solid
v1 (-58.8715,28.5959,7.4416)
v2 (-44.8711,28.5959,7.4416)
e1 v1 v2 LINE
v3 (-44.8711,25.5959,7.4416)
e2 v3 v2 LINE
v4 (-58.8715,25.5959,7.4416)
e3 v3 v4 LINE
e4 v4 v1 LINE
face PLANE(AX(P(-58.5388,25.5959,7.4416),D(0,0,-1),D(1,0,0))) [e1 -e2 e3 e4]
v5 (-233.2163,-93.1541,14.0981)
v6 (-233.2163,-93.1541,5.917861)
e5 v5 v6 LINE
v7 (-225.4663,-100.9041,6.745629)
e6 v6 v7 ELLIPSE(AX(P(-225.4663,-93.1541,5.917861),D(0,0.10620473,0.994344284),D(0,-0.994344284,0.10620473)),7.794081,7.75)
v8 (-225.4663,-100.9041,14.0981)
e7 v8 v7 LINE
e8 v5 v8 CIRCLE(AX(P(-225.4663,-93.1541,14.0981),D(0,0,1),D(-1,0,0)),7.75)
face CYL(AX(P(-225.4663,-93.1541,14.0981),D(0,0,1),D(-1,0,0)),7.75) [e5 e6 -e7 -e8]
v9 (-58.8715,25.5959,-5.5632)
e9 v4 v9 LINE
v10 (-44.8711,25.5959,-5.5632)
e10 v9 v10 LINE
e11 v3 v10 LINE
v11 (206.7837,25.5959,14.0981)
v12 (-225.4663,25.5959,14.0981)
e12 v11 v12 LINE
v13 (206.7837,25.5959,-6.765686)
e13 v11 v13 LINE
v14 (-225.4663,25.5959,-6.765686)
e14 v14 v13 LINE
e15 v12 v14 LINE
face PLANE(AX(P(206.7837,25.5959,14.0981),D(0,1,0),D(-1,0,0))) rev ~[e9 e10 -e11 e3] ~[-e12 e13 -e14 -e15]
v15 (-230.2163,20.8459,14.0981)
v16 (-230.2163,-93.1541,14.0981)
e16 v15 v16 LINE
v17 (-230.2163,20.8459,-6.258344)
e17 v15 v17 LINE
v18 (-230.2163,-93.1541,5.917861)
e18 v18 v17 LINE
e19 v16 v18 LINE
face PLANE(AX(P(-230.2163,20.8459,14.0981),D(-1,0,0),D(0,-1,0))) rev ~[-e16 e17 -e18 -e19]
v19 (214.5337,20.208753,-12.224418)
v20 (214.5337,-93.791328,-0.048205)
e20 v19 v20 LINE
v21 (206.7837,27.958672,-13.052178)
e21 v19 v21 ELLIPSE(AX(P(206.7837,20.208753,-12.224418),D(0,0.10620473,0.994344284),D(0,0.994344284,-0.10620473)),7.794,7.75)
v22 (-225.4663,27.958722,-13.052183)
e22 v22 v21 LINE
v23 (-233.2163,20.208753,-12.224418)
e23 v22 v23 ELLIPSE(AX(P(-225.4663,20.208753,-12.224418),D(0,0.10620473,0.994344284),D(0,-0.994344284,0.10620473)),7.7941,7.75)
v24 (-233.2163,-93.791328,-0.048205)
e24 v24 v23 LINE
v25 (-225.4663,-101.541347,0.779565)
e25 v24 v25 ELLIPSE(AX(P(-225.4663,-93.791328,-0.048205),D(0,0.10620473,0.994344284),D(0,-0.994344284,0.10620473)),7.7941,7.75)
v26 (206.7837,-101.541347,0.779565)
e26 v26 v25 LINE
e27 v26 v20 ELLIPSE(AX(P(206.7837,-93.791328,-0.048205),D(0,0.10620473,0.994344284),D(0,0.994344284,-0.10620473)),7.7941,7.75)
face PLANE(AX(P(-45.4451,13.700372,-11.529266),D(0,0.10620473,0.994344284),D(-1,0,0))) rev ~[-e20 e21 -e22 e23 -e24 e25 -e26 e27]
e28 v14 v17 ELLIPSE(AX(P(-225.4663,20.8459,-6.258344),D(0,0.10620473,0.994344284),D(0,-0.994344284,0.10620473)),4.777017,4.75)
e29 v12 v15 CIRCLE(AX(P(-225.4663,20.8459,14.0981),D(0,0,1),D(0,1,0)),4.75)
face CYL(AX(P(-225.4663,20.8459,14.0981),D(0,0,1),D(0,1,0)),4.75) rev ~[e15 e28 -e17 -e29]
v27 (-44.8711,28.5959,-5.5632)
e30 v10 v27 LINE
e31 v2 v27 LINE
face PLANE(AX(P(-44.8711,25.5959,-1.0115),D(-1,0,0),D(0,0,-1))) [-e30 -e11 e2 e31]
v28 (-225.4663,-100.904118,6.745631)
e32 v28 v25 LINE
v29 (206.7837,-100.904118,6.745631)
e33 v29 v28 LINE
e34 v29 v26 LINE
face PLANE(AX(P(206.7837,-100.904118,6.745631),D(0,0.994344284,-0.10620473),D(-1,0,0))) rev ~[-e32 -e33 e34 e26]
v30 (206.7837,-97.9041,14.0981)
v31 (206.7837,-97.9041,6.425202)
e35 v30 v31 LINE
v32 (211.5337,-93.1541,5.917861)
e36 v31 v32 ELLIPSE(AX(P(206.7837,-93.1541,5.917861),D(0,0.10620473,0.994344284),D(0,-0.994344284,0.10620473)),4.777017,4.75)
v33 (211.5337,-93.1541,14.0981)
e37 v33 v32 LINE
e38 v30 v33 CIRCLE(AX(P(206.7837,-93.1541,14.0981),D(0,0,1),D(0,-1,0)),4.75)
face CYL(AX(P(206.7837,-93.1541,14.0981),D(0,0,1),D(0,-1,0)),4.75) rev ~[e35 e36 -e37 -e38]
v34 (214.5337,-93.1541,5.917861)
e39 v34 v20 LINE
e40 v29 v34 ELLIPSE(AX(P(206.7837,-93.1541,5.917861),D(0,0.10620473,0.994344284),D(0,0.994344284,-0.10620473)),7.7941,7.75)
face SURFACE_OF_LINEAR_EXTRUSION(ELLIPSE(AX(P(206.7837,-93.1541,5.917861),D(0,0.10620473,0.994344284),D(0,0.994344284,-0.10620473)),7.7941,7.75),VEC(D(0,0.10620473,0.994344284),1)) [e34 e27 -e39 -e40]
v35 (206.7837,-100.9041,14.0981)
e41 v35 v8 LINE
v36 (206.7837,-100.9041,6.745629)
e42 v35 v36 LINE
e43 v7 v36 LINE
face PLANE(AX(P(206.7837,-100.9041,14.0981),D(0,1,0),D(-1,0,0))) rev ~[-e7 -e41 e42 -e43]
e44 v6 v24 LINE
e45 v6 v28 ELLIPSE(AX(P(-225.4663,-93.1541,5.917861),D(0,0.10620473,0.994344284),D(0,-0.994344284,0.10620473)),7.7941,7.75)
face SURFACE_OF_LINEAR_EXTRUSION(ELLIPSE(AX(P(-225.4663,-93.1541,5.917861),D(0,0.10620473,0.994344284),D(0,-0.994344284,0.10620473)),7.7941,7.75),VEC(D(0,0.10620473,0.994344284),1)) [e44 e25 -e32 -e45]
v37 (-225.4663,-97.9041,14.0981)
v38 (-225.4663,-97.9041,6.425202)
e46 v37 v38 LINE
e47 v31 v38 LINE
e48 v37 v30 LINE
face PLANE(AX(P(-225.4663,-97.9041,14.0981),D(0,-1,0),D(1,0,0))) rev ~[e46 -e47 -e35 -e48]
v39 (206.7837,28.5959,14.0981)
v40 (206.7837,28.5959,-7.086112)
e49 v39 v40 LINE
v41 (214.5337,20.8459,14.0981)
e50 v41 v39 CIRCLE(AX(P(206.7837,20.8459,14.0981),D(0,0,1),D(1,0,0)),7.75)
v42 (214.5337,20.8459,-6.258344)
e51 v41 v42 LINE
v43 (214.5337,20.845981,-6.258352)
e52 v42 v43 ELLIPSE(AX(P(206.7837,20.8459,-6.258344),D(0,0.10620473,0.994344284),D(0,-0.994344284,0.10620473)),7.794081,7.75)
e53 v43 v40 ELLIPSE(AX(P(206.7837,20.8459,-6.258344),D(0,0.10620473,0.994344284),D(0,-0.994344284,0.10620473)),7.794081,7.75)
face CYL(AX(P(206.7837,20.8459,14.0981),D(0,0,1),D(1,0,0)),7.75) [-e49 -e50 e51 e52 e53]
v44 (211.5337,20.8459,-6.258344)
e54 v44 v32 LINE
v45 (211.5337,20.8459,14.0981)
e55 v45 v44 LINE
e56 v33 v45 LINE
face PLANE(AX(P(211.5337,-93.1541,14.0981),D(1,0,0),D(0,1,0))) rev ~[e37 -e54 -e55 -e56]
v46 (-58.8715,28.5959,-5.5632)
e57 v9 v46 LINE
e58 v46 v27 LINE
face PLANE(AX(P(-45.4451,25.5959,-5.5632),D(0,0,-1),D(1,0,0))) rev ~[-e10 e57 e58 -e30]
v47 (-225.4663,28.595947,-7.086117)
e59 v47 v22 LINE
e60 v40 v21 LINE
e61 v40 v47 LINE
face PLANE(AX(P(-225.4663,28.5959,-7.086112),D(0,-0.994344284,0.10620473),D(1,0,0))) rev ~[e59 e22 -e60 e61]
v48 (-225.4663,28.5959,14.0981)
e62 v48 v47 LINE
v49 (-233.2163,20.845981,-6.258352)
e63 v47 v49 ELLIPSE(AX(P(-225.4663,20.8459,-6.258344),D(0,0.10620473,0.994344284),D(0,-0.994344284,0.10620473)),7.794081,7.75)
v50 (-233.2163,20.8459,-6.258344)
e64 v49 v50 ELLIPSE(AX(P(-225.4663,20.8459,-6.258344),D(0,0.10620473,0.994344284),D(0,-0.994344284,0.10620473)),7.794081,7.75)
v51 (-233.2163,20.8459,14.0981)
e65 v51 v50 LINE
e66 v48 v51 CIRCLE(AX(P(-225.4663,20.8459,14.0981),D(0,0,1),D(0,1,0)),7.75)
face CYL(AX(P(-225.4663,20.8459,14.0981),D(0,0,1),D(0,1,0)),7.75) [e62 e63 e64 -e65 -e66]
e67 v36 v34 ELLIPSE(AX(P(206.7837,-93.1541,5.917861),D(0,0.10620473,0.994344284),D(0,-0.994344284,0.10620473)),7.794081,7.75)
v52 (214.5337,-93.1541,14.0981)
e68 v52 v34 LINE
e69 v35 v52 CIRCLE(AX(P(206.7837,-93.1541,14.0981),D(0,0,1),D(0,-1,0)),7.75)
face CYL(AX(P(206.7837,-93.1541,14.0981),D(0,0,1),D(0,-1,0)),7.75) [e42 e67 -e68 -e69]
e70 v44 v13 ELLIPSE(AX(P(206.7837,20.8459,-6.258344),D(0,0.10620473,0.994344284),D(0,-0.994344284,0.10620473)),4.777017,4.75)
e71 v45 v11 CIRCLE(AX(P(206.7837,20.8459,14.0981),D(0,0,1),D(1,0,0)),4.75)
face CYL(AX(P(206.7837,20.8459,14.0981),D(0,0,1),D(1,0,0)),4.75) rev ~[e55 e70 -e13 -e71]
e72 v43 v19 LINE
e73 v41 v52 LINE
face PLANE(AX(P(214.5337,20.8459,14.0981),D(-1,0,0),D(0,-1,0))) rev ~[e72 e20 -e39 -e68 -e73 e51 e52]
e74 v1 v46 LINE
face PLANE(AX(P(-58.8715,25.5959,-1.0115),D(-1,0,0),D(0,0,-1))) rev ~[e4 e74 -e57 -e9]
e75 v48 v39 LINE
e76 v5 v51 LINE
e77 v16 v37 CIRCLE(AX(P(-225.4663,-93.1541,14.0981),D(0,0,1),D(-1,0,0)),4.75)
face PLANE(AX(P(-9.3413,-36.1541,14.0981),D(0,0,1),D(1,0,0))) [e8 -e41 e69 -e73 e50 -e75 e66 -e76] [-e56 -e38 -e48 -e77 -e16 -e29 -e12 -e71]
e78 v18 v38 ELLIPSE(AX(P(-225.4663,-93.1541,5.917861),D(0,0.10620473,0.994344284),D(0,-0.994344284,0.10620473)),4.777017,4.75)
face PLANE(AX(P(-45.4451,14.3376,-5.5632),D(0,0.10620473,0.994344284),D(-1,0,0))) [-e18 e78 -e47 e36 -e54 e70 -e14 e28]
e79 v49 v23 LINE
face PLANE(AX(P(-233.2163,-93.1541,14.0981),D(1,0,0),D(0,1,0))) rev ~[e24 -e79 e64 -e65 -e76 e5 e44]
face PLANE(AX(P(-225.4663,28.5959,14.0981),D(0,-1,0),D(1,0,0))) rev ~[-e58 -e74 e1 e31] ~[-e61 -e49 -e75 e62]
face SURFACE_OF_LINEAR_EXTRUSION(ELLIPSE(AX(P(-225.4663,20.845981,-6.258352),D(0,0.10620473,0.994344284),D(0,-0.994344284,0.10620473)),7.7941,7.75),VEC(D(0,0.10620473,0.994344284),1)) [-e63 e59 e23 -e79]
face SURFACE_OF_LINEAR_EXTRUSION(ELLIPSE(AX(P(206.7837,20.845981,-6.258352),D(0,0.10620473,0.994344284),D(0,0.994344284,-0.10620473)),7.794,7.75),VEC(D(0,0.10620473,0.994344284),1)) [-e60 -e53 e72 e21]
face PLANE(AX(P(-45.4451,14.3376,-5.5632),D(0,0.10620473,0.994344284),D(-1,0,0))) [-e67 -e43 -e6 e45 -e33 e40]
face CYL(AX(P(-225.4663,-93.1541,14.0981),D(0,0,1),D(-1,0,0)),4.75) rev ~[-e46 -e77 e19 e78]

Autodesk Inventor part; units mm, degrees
ref_plane "YZ Plane" through (0, 0, 0) normal (1, 0, 0) x (0, 1, 0)
ref_plane "XZ Plane" through (0, 0, 0) normal (0, 1, 0) x (-1, 0, 0)
ref_plane "XY Plane" through (0, 0, 0) normal (0, 0, 1) x (1, 0, 0)
sketch "Sketch1" plane through (0, 0, 0) normal (1, 0, 0) x (0, 1, 0)
  line L0 (-93.1541, 14.0981) -> (20.8459, 14.0981) projected
  line L1 (-93.1541, 14.0981) -> (-93.1541, 12.5981) projected
  line L2 (20.8459, 12.5981) -> (-93.1541, 12.5981) projected
  line L3 (20.8459, 14.0981) -> (20.8459, 12.5981) projected
  line L4 (-93.1541, 7.4943) -> (-93.1541, 9.0943) projected
  line L5 (-93.1541, 7.4943) -> (20.8459, 7.4943) projected
  line L6 (20.8459, 7.4943) -> (20.8459, 9.0943) projected
  line L7 (-93.1541, 9.0943) -> (20.8459, 9.0943) projected
  line L8 (25.5959, 14.0981) -> (20.8459, 14.0981) projected
  line L9 (20.8459, 12.5981) -> (25.5959, 12.5981) projected
  line L10 (25.5959, 14.0981) -> (25.5959, 12.5981) projected
  line L11 (25.5959, 9.0943) -> (20.8459, 9.0943) projected
  line L12 (25.5959, 7.4943) -> (20.8459, 7.4943) projected
  line L13 (25.5959, 7.4943) -> (25.5959, 9.0943) projected
  line L14 (-93.1541, 9.0943) -> (-97.9041, 9.0943) projected
  line L15 (-93.1541, 7.4943) -> (-97.9041, 7.4943) projected
  line L16 (-97.9041, 7.4943) -> (-97.9041, 9.0943) projected
  line L17 (-93.1541, 14.0981) -> (-97.9041, 14.0981) projected
  line L18 (-97.9041, 12.5981) -> (-93.1541, 12.5981) projected
  line L19 (-97.9041, 14.0981) -> (-97.9041, 12.5981) projected
  line L20 (-93.4041, 11.6343) -> (-93.3041, 11.6343) projected
  point P0 (0, 0)
ref_plane "Work Plane1" through (-45.4451, 14.3376, -5.5632) normal (0, 0.1062, 0.9943) x (-1, 0, 0)
ref_plane "Work Plane2" through (-9.3413, -36.1541, 14.0981) normal (0, 0, 1) x (1, 0, 0)
sketch "Sketch3" plane through (-9.3413, -36.1541, 14.0981) normal (0, 0, 1) x (1, 0, 0)
  line L0 (-211.6644, 41.535) -> (-205.2313, 59.21) projected
  line L1 (-205.2313, 59.21) -> (-202.7313, 59.21) projected
  line L2 (-202.7313, 59.21) -> (-209.1644, 41.535) projected
  line L3 (-209.1644, 41.535) -> (-211.6644, 41.535) projected
  line L4 (-201.6644, 41.535) -> (-195.2313, 59.21) projected
  line L5 (-195.2313, 59.21) -> (-192.7313, 59.21) projected
  line L6 (-192.7313, 59.21) -> (-199.1644, 41.535) projected
  line L7 (-199.1644, 41.535) -> (-201.6644, 41.535) projected
  line L8 (-191.6644, 41.535) -> (-185.2313, 59.21) projected
  line L9 (-185.2313, 59.21) -> (-182.7313, 59.21) projected
  line L10 (-182.7313, 59.21) -> (-189.1644, 41.535) projected
  line L11 (-189.1644, 41.535) -> (-191.6644, 41.535) projected
  line L12 (-181.6644, 41.535) -> (-175.2313, 59.21) projected
  line L13 (-175.2313, 59.21) -> (-172.7313, 59.21) projected
  line L14 (-172.7313, 59.21) -> (-179.1644, 41.535) projected
  line L15 (-179.1644, 41.535) -> (-181.6644, 41.535) projected
  line L16 (-171.6644, 41.535) -> (-165.2313, 59.21) projected
  line L17 (-165.2313, 59.21) -> (-162.7313, 59.21) projected
  line L18 (-162.7313, 59.21) -> (-169.1644, 41.535) projected
  line L19 (-169.1644, 41.535) -> (-171.6644, 41.535) projected
  line L20 (-161.6644, 41.535) -> (-155.2313, 59.21) projected
  line L21 (-155.2313, 59.21) -> (-152.7313, 59.21) projected
  line L22 (-152.7313, 59.21) -> (-159.1644, 41.535) projected
  line L23 (-159.1644, 41.535) -> (-161.6644, 41.535) projected
  line L24 (-151.6644, 41.535) -> (-145.2313, 59.21) projected
  line L25 (-145.2313, 59.21) -> (-142.7313, 59.21) projected
  line L26 (-142.7313, 59.21) -> (-149.1644, 41.535) projected
  line L27 (-149.1644, 41.535) -> (-151.6644, 41.535) projected
  line L28 (-141.6644, 41.535) -> (-135.2313, 59.21) projected
  line L29 (-135.2313, 59.21) -> (-132.7313, 59.21) projected
  line L30 (-132.7313, 59.21) -> (-139.1644, 41.535) projected
  line L31 (-139.1644, 41.535) -> (-141.6644, 41.535) projected
  line L32 (-134.1647, 41.535) -> (-136.6647, 41.535) projected
  line L33 (-136.6647, 41.535) -> (-131.39, 56.027) projected
  line L34 (-131.39, 56.027) -> (-131.39, 49.1583) projected
  line L35 (-131.39, 49.1583) -> (-134.1647, 41.535) projected
  line L36 (-141.27, 35.75) -> (-143.77, 35.75) projected
  line L37 (-143.77, 35.75) -> (-142.3378, 39.685) projected
  line L38 (-142.3378, 39.685) -> (-139.8378, 39.685) projected
  line L39 (-139.8378, 39.685) -> (-141.27, 35.75) projected
  line L40 (-151.27, 35.75) -> (-153.77, 35.75) projected
  line L41 (-153.77, 35.75) -> (-152.3378, 39.685) projected
  line L42 (-152.3378, 39.685) -> (-149.8378, 39.685) projected
  line L43 (-149.8378, 39.685) -> (-151.27, 35.75) projected
  line L44 (-161.27, 35.75) -> (-163.77, 35.75) projected
  line L45 (-163.77, 35.75) -> (-162.3378, 39.685) projected
  line L46 (-162.3378, 39.685) -> (-159.8378, 39.685) projected
  line L47 (-159.8378, 39.685) -> (-161.27, 35.75) projected
  line L48 (-171.27, 35.75) -> (-173.77, 35.75) projected
  line L49 (-173.77, 35.75) -> (-172.3378, 39.685) projected
  line L50 (-172.3378, 39.685) -> (-169.8378, 39.685) projected
  line L51 (-169.8378, 39.685) -> (-171.27, 35.75) projected
  line L52 (-181.27, 35.75) -> (-183.77, 35.75) projected
  line L53 (-183.77, 35.75) -> (-182.3378, 39.685) projected
  line L54 (-182.3378, 39.685) -> (-179.8378, 39.685) projected
  line L55 (-179.8378, 39.685) -> (-181.27, 35.75) projected
  line L56 (-191.27, 35.75) -> (-193.77, 35.75) projected
  line L57 (-193.77, 35.75) -> (-192.3378, 39.685) projected
  line L58 (-192.3378, 39.685) -> (-189.8378, 39.685) projected
  line L59 (-189.8378, 39.685) -> (-191.27, 35.75) projected
  line L60 (-201.27, 35.75) -> (-203.77, 35.75) projected
  line L61 (-203.77, 35.75) -> (-202.3378, 39.685) projected
  line L62 (-202.3378, 39.685) -> (-199.8378, 39.685) projected
  line L63 (-199.8378, 39.685) -> (-201.27, 35.75) projected
  line L64 (-211.27, 35.75) -> (-213.77, 35.75) projected
  line L65 (-213.77, 35.75) -> (-212.3378, 39.685) projected
  line L66 (-212.3378, 39.685) -> (-209.8378, 39.685) projected
  line L67 (-209.8378, 39.685) -> (-211.27, 35.75) projected
  line L68 (-206.27, 35.75) -> (-208.77, 35.75) projected
  line L69 (-208.77, 35.75) -> (-207.3378, 39.685) projected
  line L70 (-207.3378, 39.685) -> (-204.8378, 39.685) projected
  line L71 (-204.8378, 39.685) -> (-206.27, 35.75) projected
  line L72 (-196.27, 35.75) -> (-198.77, 35.75) projected
  line L73 (-198.77, 35.75) -> (-197.3378, 39.685) projected
  line L74 (-197.3378, 39.685) -> (-194.8378, 39.685) projected
  line L75 (-194.8378, 39.685) -> (-196.27, 35.75) projected
  line L76 (-186.27, 35.75) -> (-188.77, 35.75) projected
  line L77 (-188.77, 35.75) -> (-187.3378, 39.685) projected
  line L78 (-187.3378, 39.685) -> (-184.8378, 39.685) projected
  line L79 (-184.8378, 39.685) -> (-186.27, 35.75) projected
  line L80 (-176.27, 35.75) -> (-178.77, 35.75) projected
  line L81 (-178.77, 35.75) -> (-177.3378, 39.685) projected
  line L82 (-177.3378, 39.685) -> (-174.8378, 39.685) projected
  line L83 (-174.8378, 39.685) -> (-176.27, 35.75) projected
  line L84 (-166.27, 35.75) -> (-168.77, 35.75) projected
  line L85 (-168.77, 35.75) -> (-167.3378, 39.685) projected
  line L86 (-167.3378, 39.685) -> (-164.8378, 39.685) projected
  line L87 (-164.8378, 39.685) -> (-166.27, 35.75) projected
  line L88 (-156.27, 35.75) -> (-158.77, 35.75) projected
  line L89 (-158.77, 35.75) -> (-157.3378, 39.685) projected
  line L90 (-157.3378, 39.685) -> (-154.8378, 39.685) projected
  line L91 (-154.8378, 39.685) -> (-156.27, 35.75) projected
  line L92 (-146.27, 35.75) -> (-148.77, 35.75) projected
  line L93 (-148.77, 35.75) -> (-147.3378, 39.685) projected
  line L94 (-147.3378, 39.685) -> (-144.8378, 39.685) projected
  line L95 (-144.8378, 39.685) -> (-146.27, 35.75) projected
  line L96 (-136.2702, 35.75) -> (-138.7702, 35.75) projected
  line L97 (-138.7702, 35.75) -> (-137.338, 39.685) projected
  line L98 (-137.338, 39.685) -> (-134.838, 39.685) projected
  line L99 (-134.838, 39.685) -> (-136.2702, 35.75) projected
  line L100 (-213.77, 49.4867) -> (-210.231, 59.21) projected
  line L101 (-210.231, 59.21) -> (-207.731, 59.21) projected
  line L102 (-207.731, 59.21) -> (-213.77, 42.618) projected
  line L103 (-213.77, 42.618) -> (-213.77, 49.4867) projected
  line L104 (-146.6644, 41.535) -> (-140.2313, 59.21) projected
  line L105 (-140.2313, 59.21) -> (-137.7313, 59.21) projected
  line L106 (-137.7313, 59.21) -> (-144.1644, 41.535) projected
  line L107 (-144.1644, 41.535) -> (-146.6644, 41.535) projected
  line L108 (-156.6644, 41.535) -> (-150.2313, 59.21) projected
  line L109 (-150.2313, 59.21) -> (-147.7313, 59.21) projected
  line L110 (-147.7313, 59.21) -> (-154.1644, 41.535) projected
  line L111 (-154.1644, 41.535) -> (-156.6644, 41.535) projected
  line L112 (-166.6644, 41.535) -> (-160.2313, 59.21) projected
  line L113 (-160.2313, 59.21) -> (-157.7313, 59.21) projected
  line L114 (-157.7313, 59.21) -> (-164.1644, 41.535) projected
  line L115 (-164.1644, 41.535) -> (-166.6644, 41.535) projected
  line L116 (-176.6644, 41.535) -> (-170.2313, 59.21) projected
  line L117 (-170.2313, 59.21) -> (-167.7313, 59.21) projected
  line L118 (-167.7313, 59.21) -> (-174.1644, 41.535) projected
  line L119 (-174.1644, 41.535) -> (-176.6644, 41.535) projected
  line L120 (-186.6644, 41.535) -> (-180.2313, 59.21) projected
  line L121 (-180.2313, 59.21) -> (-177.7313, 59.21) projected
  line L122 (-177.7313, 59.21) -> (-184.1644, 41.535) projected
  line L123 (-184.1644, 41.535) -> (-186.6644, 41.535) projected
  line L124 (-196.6644, 41.535) -> (-190.2313, 59.21) projected
  line L125 (-190.2313, 59.21) -> (-187.7313, 59.21) projected
  line L126 (-187.7313, 59.21) -> (-194.1644, 41.535) projected
  line L127 (-194.1644, 41.535) -> (-196.6644, 41.535) projected
  line L128 (-206.6644, 41.535) -> (-200.2313, 59.21) projected
  line L129 (-200.2313, 59.21) -> (-197.7313, 59.21) projected
  line L130 (-197.7313, 59.21) -> (-204.1644, 41.535) projected
  line L131 (-204.1644, 41.535) -> (-206.6644, 41.535) projected
  line L132 (-78.7722, 35.75) -> (-133.77, 35.75) projected
  line L133 (-133.77, 35.75) -> (-132.3378, 39.685) projected
  line L134 (-132.3378, 39.685) -> (-77.34, 39.685) projected
  line L135 (-77.34, 39.685) -> (-78.7722, 35.75) projected
  line L136 (-77.34, 41.535) -> (-129.54, 41.535) projected
  line L137 (-129.54, 41.535) -> (-129.54, 59.315) projected
  line L138 (-129.54, 59.315) -> (-77.34, 59.315) projected
  line L139 (-77.34, 59.315) -> (-77.34, 41.535) projected
  line L140 (159, -26.25) -> (159, -40.25) projected
  line L141 (159, -40.25) -> (145, -40.25) projected
  line L142 (145, -40.25) -> (145, -26.25) projected
  line L143 (145, -26.25) -> (159, -26.25) projected
  line L144 (140, -26.25) -> (140, -40.25) projected
  line L145 (140, -40.25) -> (126, -40.25) projected
  line L146 (126, -40.25) -> (126, -26.25) projected
  line L147 (126, -26.25) -> (140, -26.25) projected
  line L148 (121, -26.25) -> (121, -40.25) projected
  line L149 (121, -40.25) -> (107, -40.25) projected
  line L150 (107, -40.25) -> (107, -26.25) projected
  line L151 (107, -26.25) -> (121, -26.25) projected
  line L152 (102, -26.25) -> (102, -40.25) projected
  line L153 (102, -40.25) -> (88, -40.25) projected
  line L154 (88, -40.25) -> (88, -26.25) projected
  line L155 (88, -26.25) -> (102, -26.25) projected
  line L156 (83, -26.25) -> (83, -40.25) projected
  line L157 (83, -40.25) -> (69, -40.25) projected
  line L158 (69, -40.25) -> (69, -26.25) projected
  line L159 (69, -26.25) -> (83, -26.25) projected
  line L160 (64, -26.25) -> (64, -40.25) projected
  line L161 (64, -40.25) -> (50, -40.25) projected
  line L162 (50, -40.25) -> (50, -26.25) projected
  line L163 (50, -26.25) -> (64, -26.25) projected
  line L164 (45, -26.25) -> (45, -40.25) projected
  line L165 (45, -40.25) -> (31, -40.25) projected
  line L166 (31, -40.25) -> (31, -26.25) projected
  line L167 (31, -26.25) -> (45, -26.25) projected
  line L168 (26, -26.25) -> (26, -40.25) projected
  line L169 (26, -40.25) -> (12, -40.25) projected
  line L170 (12, -40.25) -> (12, -26.25) projected
  line L171 (12, -26.25) -> (26, -26.25) projected
  line L172 (7, -26.25) -> (7, -40.25) projected
  line L173 (7, -40.25) -> (-7, -40.25) projected
  line L174 (-7, -40.25) -> (-7, -26.25) projected
  line L175 (-7, -26.25) -> (7, -26.25) projected
  line L176 (154.5, -7.25) -> (168.5, -7.25) projected
  line L177 (168.5, -7.25) -> (168.5, -21.25) projected
  line L178 (168.5, -21.25) -> (154.5, -21.25) projected
  line L179 (154.5, -21.25) -> (154.5, -7.25) projected
  line L180 (135.5, -7.25) -> (149.5, -7.25) projected
  line L181 (149.5, -7.25) -> (149.5, -21.25) projected
  line L182 (149.5, -21.25) -> (135.5, -21.25) projected
  line L183 (135.5, -21.25) -> (135.5, -7.25) projected
  line L184 (116.5, -7.25) -> (130.5, -7.25) projected
  line L185 (130.5, -7.25) -> (130.5, -21.25) projected
  line L186 (130.5, -21.25) -> (116.5, -21.25) projected
  line L187 (116.5, -21.25) -> (116.5, -7.25) projected
  line L188 (97.5, -7.25) -> (111.5, -7.25) projected
  line L189 (111.5, -7.25) -> (111.5, -21.25) projected
  line L190 (111.5, -21.25) -> (97.5, -21.25) projected
  line L191 (97.5, -21.25) -> (97.5, -7.25) projected
  line L192 (78.5, -7.25) -> (92.5, -7.25) projected
  line L193 (92.5, -7.25) -> (92.5, -21.25) projected
  line L194 (92.5, -21.25) -> (78.5, -21.25) projected
  line L195 (78.5, -21.25) -> (78.5, -7.25) projected
  line L196 (59.5, -7.25) -> (73.5, -7.25) projected
  line L197 (73.5, -7.25) -> (73.5, -21.25) projected
  line L198 (73.5, -21.25) -> (59.5, -21.25) projected
  line L199 (59.5, -21.25) -> (59.5, -7.25) projected
  line L200 (40.5, -7.25) -> (54.5, -7.25) projected
  line L201 (54.5, -7.25) -> (54.5, -21.25) projected
  line L202 (54.5, -21.25) -> (40.5, -21.25) projected
  line L203 (40.5, -21.25) -> (40.5, -7.25) projected
  line L204 (21.5, -7.25) -> (35.5, -7.25) projected
  line L205 (35.5, -7.25) -> (35.5, -21.25) projected
  line L206 (35.5, -21.25) -> (21.5, -21.25) projected
  line L207 (21.5, -21.25) -> (21.5, -7.25) projected
  line L208 (2.5, -7.25) -> (16.5, -7.25) projected
  line L209 (16.5, -7.25) -> (16.5, -21.25) projected
  line L210 (16.5, -21.25) -> (2.5, -21.25) projected
  line L211 (2.5, -21.25) -> (2.5, -7.25) projected
  line L212 (-16.5, -7.25) -> (-2.5, -7.25) projected
  line L213 (-2.5, -7.25) -> (-2.5, -21.25) projected
  line L214 (-2.5, -21.25) -> (-16.5, -21.25) projected
  line L215 (-16.5, -21.25) -> (-16.5, -7.25) projected
  line L216 (182.75, 11.75) -> (182.75, -2.25) projected
  line L217 (182.75, -2.25) -> (168.75, -2.25) projected
  line L218 (168.75, -2.25) -> (168.75, 11.75) projected
  line L219 (168.75, 11.75) -> (182.75, 11.75) projected
  line L220 (163.75, 11.75) -> (163.75, -2.25) projected
  line L221 (163.75, -2.25) -> (149.75, -2.25) projected
  line L222 (149.75, -2.25) -> (149.75, 11.75) projected
  line L223 (149.75, 11.75) -> (163.75, 11.75) projected
  line L224 (144.75, 11.75) -> (144.75, -2.25) projected
  line L225 (144.75, -2.25) -> (130.75, -2.25) projected
  line L226 (130.75, -2.25) -> (130.75, 11.75) projected
  line L227 (130.75, 11.75) -> (144.75, 11.75) projected
  line L228 (125.75, 11.75) -> (125.75, -2.25) projected
  line L229 (125.75, -2.25) -> (111.75, -2.25) projected
  line L230 (111.75, -2.25) -> (111.75, 11.75) projected
  line L231 (111.75, 11.75) -> (125.75, 11.75) projected
  line L232 (106.75, 11.75) -> (106.75, -2.25) projected
  line L233 (106.75, -2.25) -> (92.75, -2.25) projected
  line L234 (92.75, -2.25) -> (92.75, 11.75) projected
  line L235 (92.75, 11.75) -> (106.75, 11.75) projected
  line L236 (87.75, 11.75) -> (87.75, -2.25) projected
  line L237 (87.75, -2.25) -> (73.75, -2.25) projected
  line L238 (73.75, -2.25) -> (73.75, 11.75) projected
  line L239 (73.75, 11.75) -> (87.75, 11.75) projected
  line L240 (68.75, 11.75) -> (68.75, -2.25) projected
  line L241 (68.75, -2.25) -> (54.75, -2.25) projected
  line L242 (54.75, -2.25) -> (54.75, 11.75) projected
  line L243 (54.75, 11.75) -> (68.75, 11.75) projected
  line L244 (49.75, 11.75) -> (49.75, -2.25) projected
  line L245 (49.75, -2.25) -> (35.75, -2.25) projected
  line L246 (35.75, -2.25) -> (35.75, 11.75) projected
  line L247 (35.75, 11.75) -> (49.75, 11.75) projected
  line L248 (30.75, 11.75) -> (30.75, -2.25) projected
  line L249 (30.75, -2.25) -> (16.75, -2.25) projected
  line L250 (16.75, -2.25) -> (16.75, 11.75) projected
  line L251 (16.75, 11.75) -> (30.75, 11.75) projected
  line L252 (11.75, 11.75) -> (11.75, -2.25) projected
  line L253 (11.75, -2.25) -> (-2.25, -2.25) projected
  line L254 (-2.25, -2.25) -> (-2.25, 11.75) projected
  line L255 (-2.25, 11.75) -> (11.75, 11.75) projected
  line L256 (-7.25, 11.75) -> (-7.25, -2.25) projected
  line L257 (-7.25, -2.25) -> (-21.25, -2.25) projected
  line L258 (-21.25, -2.25) -> (-21.25, 11.75) projected
  line L259 (-21.25, 11.75) -> (-7.25, 11.75) projected
  line L260 (-12, -26.25) -> (-12, -40.25) projected
  line L261 (-12, -40.25) -> (-26, -40.25) projected
  line L262 (-26, -40.25) -> (-26, -26.25) projected
  line L263 (-26, -26.25) -> (-12, -26.25) projected
  line L264 (-21.5, -7.25) -> (-21.5, -21.25) projected
  line L265 (-21.5, -21.25) -> (-35.5, -21.25) projected
  line L266 (-35.5, -21.25) -> (-35.5, -7.25) projected
  line L267 (-35.5, -7.25) -> (-21.5, -7.25) projected
  line L268 (-26.25, 11.75) -> (-26.25, -2.25) projected
  line L269 (-26.25, -2.25) -> (-40.25, -2.25) projected
  line L270 (-40.25, -2.25) -> (-40.25, 11.75) projected
  line L271 (-40.25, 11.75) -> (-26.25, 11.75) projected
  line L272 (201.75, 30.75) -> (201.75, 16.75) projected
  line L273 (201.75, 16.75) -> (187.75, 16.75) projected
  line L274 (187.75, 16.75) -> (187.75, 30.75) projected
  line L275 (187.75, 30.75) -> (201.75, 30.75) projected
  line L276 (206.5, 11.75) -> (206.5, -2.25) projected
  line L277 (206.5, -2.25) -> (192.5, -2.25) projected
  line L278 (192.5, -2.25) -> (192.5, 11.75) projected
  line L279 (192.5, 11.75) -> (206.5, 11.75) projected
  line L280 (199.375, -7.25) -> (199.375, -21.25) projected
  line L281 (199.375, -21.25) -> (185.375, -21.25) projected
  line L282 (185.375, -21.25) -> (185.375, -7.25) projected
  line L283 (185.375, -7.25) -> (199.375, -7.25) projected
  line L284 (194.625, -26.25) -> (194.625, -40.25) projected
  line L285 (194.625, -40.25) -> (180.625, -40.25) projected
  line L286 (180.625, -40.25) -> (180.625, -26.25) projected
  line L287 (180.625, -26.25) -> (194.625, -26.25) projected
  line L288 (208.875, -45.25) -> (208.875, -59.25) projected
  line L289 (208.875, -59.25) -> (194.875, -59.25) projected
  line L290 (194.875, -59.25) -> (194.875, -45.25) projected
  line L291 (194.875, -45.25) -> (208.875, -45.25) projected
  line L292 (185.125, -45.25) -> (185.125, -59.25) projected
  line L293 (185.125, -59.25) -> (171.125, -59.25) projected
  line L294 (171.125, -59.25) -> (171.125, -45.25) projected
  line L295 (171.125, -45.25) -> (185.125, -45.25) projected
  line L296 (161.375, -45.25) -> (161.375, -59.25) projected
  line L297 (161.375, -59.25) -> (147.375, -59.25) projected
  line L298 (147.375, -59.25) -> (147.375, -45.25) projected
  line L299 (147.375, -45.25) -> (161.375, -45.25) projected
  line L300 (78.25, -45.25) -> (78.25, -59.25) projected
  line L301 (78.25, -59.25) -> (64.25, -59.25) projected
  line L302 (64.25, -59.25) -> (64.25, -45.25) projected
  line L303 (64.25, -45.25) -> (78.25, -45.25) projected
  line L304 (-4.875, -45.25) -> (-4.875, -59.25) projected
  line L305 (-4.875, -59.25) -> (-18.875, -59.25) projected
  line L306 (-18.875, -59.25) -> (-18.875, -45.25) projected
  line L307 (-18.875, -45.25) -> (-4.875, -45.25) projected
  line L308 (-28.625, -45.25) -> (-28.625, -59.25) projected
  line L309 (-28.625, -59.25) -> (-42.625, -59.25) projected
  line L310 (-42.625, -59.25) -> (-42.625, -45.25) projected
  line L311 (-42.625, -45.25) -> (-28.625, -45.25) projected
  line L312 (-52.375, -45.25) -> (-52.375, -59.25) projected
  line L313 (-52.375, -59.25) -> (-66.375, -59.25) projected
  line L314 (-66.375, -59.25) -> (-66.375, -45.25) projected
  line L315 (-66.375, -45.25) -> (-52.375, -45.25) projected
  line L316 (-42.875, -26.25) -> (-42.875, -40.25) projected
  line L317 (-42.875, -40.25) -> (-56.875, -40.25) projected
  line L318 (-56.875, -40.25) -> (-56.875, -26.25) projected
  line L319 (-56.875, -26.25) -> (-42.875, -26.25) projected
  line L320 (-47.625, -7.25) -> (-47.625, -21.25) projected
  line L321 (-47.625, -21.25) -> (-61.625, -21.25) projected
  line L322 (-61.625, -21.25) -> (-61.625, -7.25) projected
  line L323 (-61.625, -7.25) -> (-47.625, -7.25) projected
  line L324 (-50, 11.75) -> (-50, -2.25) projected
  line L325 (-50, -2.25) -> (-64, -2.25) projected
  line L326 (-64, -2.25) -> (-64, 11.75) projected
  line L327 (-64, 11.75) -> (-50, 11.75) projected
  line L328 (173.25, 30.75) -> (173.25, 16.75) projected
  line L329 (173.25, 16.75) -> (159.25, 16.75) projected
  line L330 (159.25, 16.75) -> (159.25, 30.75) projected
  line L331 (159.25, 30.75) -> (173.25, 30.75) projected
  line L332 (154.25, 30.75) -> (154.25, 16.75) projected
  line L333 (154.25, 16.75) -> (140.25, 16.75) projected
  line L334 (140.25, 16.75) -> (140.25, 30.75) projected
  line L335 (140.25, 30.75) -> (154.25, 30.75) projected
  line L336 (135.25, 30.75) -> (135.25, 16.75) projected
  line L337 (135.25, 16.75) -> (121.25, 16.75) projected
  line L338 (121.25, 16.75) -> (121.25, 30.75) projected
  line L339 (121.25, 30.75) -> (135.25, 30.75) projected
  line L340 (116.25, 30.75) -> (116.25, 16.75) projected
  line L341 (116.25, 16.75) -> (102.25, 16.75) projected
  line L342 (102.25, 16.75) -> (102.25, 30.75) projected
  line L343 (102.25, 30.75) -> (116.25, 30.75) projected
  line L344 (97.25, 30.75) -> (97.25, 16.75) projected
  line L345 (97.25, 16.75) -> (83.25, 16.75) projected
  line L346 (83.25, 16.75) -> (83.25, 30.75) projected
  line L347 (83.25, 30.75) -> (97.25, 30.75) projected
  line L348 (78.25, 30.75) -> (78.25, 16.75) projected
  line L349 (78.25, 16.75) -> (64.25, 16.75) projected
  line L350 (64.25, 16.75) -> (64.25, 30.75) projected
  line L351 (64.25, 30.75) -> (78.25, 30.75) projected
  line L352 (59.25, 30.75) -> (59.25, 16.75) projected
  line L353 (59.25, 16.75) -> (45.25, 16.75) projected
  line L354 (45.25, 16.75) -> (45.25, 30.75) projected
  line L355 (45.25, 30.75) -> (59.25, 30.75) projected
  line L356 (40.25, 30.75) -> (40.25, 16.75) projected
  line L357 (40.25, 16.75) -> (26.25, 16.75) projected
  line L358 (26.25, 16.75) -> (26.25, 30.75) projected
  line L359 (26.25, 30.75) -> (40.25, 30.75) projected
  line L360 (21.25, 30.75) -> (21.25, 16.75) projected
  line L361 (21.25, 16.75) -> (7.25, 16.75) projected
  line L362 (7.25, 16.75) -> (7.25, 30.75) projected
  line L363 (7.25, 30.75) -> (21.25, 30.75) projected
  line L364 (2.25, 30.75) -> (2.25, 16.75) projected
  line L365 (2.25, 16.75) -> (-11.75, 16.75) projected
  line L366 (-11.75, 16.75) -> (-11.75, 30.75) projected
  line L367 (-11.75, 30.75) -> (2.25, 30.75) projected
  line L368 (-16.75, 30.75) -> (-16.75, 16.75) projected
  line L369 (-16.75, 16.75) -> (-30.75, 16.75) projected
  line L370 (-30.75, 16.75) -> (-30.75, 30.75) projected
  line L371 (-30.75, 30.75) -> (-16.75, 30.75) projected
  line L372 (-35.75, 30.75) -> (-35.75, 16.75) projected
  line L373 (-35.75, 16.75) -> (-49.75, 16.75) projected
  line L374 (-49.75, 16.75) -> (-49.75, 30.75) projected
  line L375 (-49.75, 30.75) -> (-35.75, 30.75) projected
  line L376 (-54.75, 30.75) -> (-54.75, 16.75) projected
  line L377 (-54.75, 16.75) -> (-68.75, 16.75) projected
  line L378 (-68.75, 16.75) -> (-68.75, 30.75) projected
  line L379 (-68.75, 30.75) -> (-54.75, 30.75) projected
  line L380 (-92.5, -2.25) -> (-92.5, 11.75) projected
  line L381 (-92.5, 11.75) -> (-78.5, 11.75) projected
  line L382 (-78.5, 11.75) -> (-78.5, -2.25) projected
  line L383 (-78.5, -2.25) -> (-92.5, -2.25) projected
  line L384 (-111.5, -2.25) -> (-111.5, 11.75) projected
  line L385 (-111.5, 11.75) -> (-97.5, 11.75) projected
  line L386 (-97.5, 11.75) -> (-97.5, -2.25) projected
  line L387 (-97.5, -2.25) -> (-111.5, -2.25) projected
  line L388 (-130.5, -2.25) -> (-130.5, 11.75) projected
  line L389 (-130.5, 11.75) -> (-116.5, 11.75) projected
  line L390 (-116.5, 11.75) -> (-116.5, -2.25) projected
  line L391 (-116.5, -2.25) -> (-130.5, -2.25) projected
  line L392 (-92.5, 16.75) -> (-92.5, 30.75) projected
  line L393 (-92.5, 30.75) -> (-78.5, 30.75) projected
  line L394 (-78.5, 30.75) -> (-78.5, 16.75) projected
  line L395 (-78.5, 16.75) -> (-92.5, 16.75) projected
  line L396 (-111.5, 16.75) -> (-111.5, 30.75) projected
  line L397 (-111.5, 30.75) -> (-97.5, 30.75) projected
  line L398 (-97.5, 30.75) -> (-97.5, 16.75) projected
  line L399 (-97.5, 16.75) -> (-111.5, 16.75) projected
  line L400 (-116.5, 30.75) -> (-116.5, 16.75) projected
  line L401 (-116.5, 16.75) -> (-130.5, 16.75) projected
  line L402 (-130.5, 16.75) -> (-130.5, 30.75) projected
  line L403 (-130.5, 30.75) -> (-116.5, 30.75) projected
  line L404 (-97.5, -26.25) -> (-97.5, -40.25) projected
  line L405 (-97.5, -40.25) -> (-111.5, -40.25) projected
  line L406 (-111.5, -40.25) -> (-111.5, -26.25) projected
  line L407 (-111.5, -26.25) -> (-97.5, -26.25) projected
  line L408 (-78.5, -45.25) -> (-78.5, -59.25) projected
  line L409 (-78.5, -59.25) -> (-92.5, -59.25) projected
  line L410 (-92.5, -59.25) -> (-92.5, -45.25) projected
  line L411 (-92.5, -45.25) -> (-78.5, -45.25) projected
  line L412 (-97.5, -45.25) -> (-97.5, -59.25) projected
  line L413 (-97.5, -59.25) -> (-111.5, -59.25) projected
  line L414 (-111.5, -59.25) -> (-111.5, -45.25) projected
  line L415 (-111.5, -45.25) -> (-97.5, -45.25) projected
  line L416 (-116.5, -45.25) -> (-116.5, -59.25) projected
  line L417 (-116.5, -59.25) -> (-130.5, -59.25) projected
  line L418 (-130.5, -59.25) -> (-130.5, -45.25) projected
  line L419 (-130.5, -45.25) -> (-116.5, -45.25) projected
  line L420 (-140.25, -35.75) -> (-140.25, -49.75) projected
  line L421 (-140.25, -49.75) -> (-154.25, -49.75) projected
  line L422 (-154.25, -49.75) -> (-154.25, -35.75) projected
  line L423 (-154.25, -35.75) -> (-140.25, -35.75) projected
  line L424 (-140.25, 2.25) -> (-140.25, -11.75) projected
  line L425 (-140.25, -11.75) -> (-154.25, -11.75) projected
  line L426 (-154.25, -11.75) -> (-154.25, 2.25) projected
  line L427 (-154.25, 2.25) -> (-140.25, 2.25) projected
  line L428 (-140.25, 30.75) -> (-140.25, 16.75) projected
  line L429 (-140.25, 16.75) -> (-154.25, 16.75) projected
  line L430 (-154.25, 16.75) -> (-154.25, 30.75) projected
  line L431 (-154.25, 30.75) -> (-140.25, 30.75) projected
  line L432 (-173.25, -45.25) -> (-159.25, -45.25) projected
  line L433 (-159.25, -45.25) -> (-159.25, -59.25) projected
  line L434 (-159.25, -59.25) -> (-173.25, -59.25) projected
  line L435 (-173.25, -59.25) -> (-173.25, -45.25) projected
  line L436 (-192.25, -45.25) -> (-178.25, -45.25) projected
  line L437 (-178.25, -45.25) -> (-178.25, -59.25) projected
  line L438 (-178.25, -59.25) -> (-192.25, -59.25) projected
  line L439 (-192.25, -59.25) -> (-192.25, -45.25) projected
  line L440 (-211.25, -45.25) -> (-197.25, -45.25) projected
  line L441 (-197.25, -45.25) -> (-197.25, -59.25) projected
  line L442 (-197.25, -59.25) -> (-211.25, -59.25) projected
  line L443 (-211.25, -59.25) -> (-211.25, -45.25) projected
  line L444 (-173.25, -26.25) -> (-159.25, -26.25) projected
  line L445 (-159.25, -26.25) -> (-159.25, -40.25) projected
  line L446 (-159.25, -40.25) -> (-173.25, -40.25) projected
  line L447 (-173.25, -40.25) -> (-173.25, -26.25) projected
  line L448 (-192.25, -26.25) -> (-178.25, -26.25) projected
  line L449 (-178.25, -26.25) -> (-178.25, -40.25) projected
  line L450 (-178.25, -40.25) -> (-192.25, -40.25) projected
  line L451 (-192.25, -40.25) -> (-192.25, -26.25) projected
  line L452 (-211.25, -26.25) -> (-197.25, -26.25) projected
  line L453 (-197.25, -26.25) -> (-197.25, -40.25) projected
  line L454 (-197.25, -40.25) -> (-211.25, -40.25) projected
  line L455 (-211.25, -40.25) -> (-211.25, -26.25) projected
  line L456 (-173.25, -7.25) -> (-159.25, -7.25) projected
  line L457 (-159.25, -7.25) -> (-159.25, -21.25) projected
  line L458 (-159.25, -21.25) -> (-173.25, -21.25) projected
  line L459 (-173.25, -21.25) -> (-173.25, -7.25) projected
  line L460 (-192.25, -7.25) -> (-178.25, -7.25) projected
  line L461 (-178.25, -7.25) -> (-178.25, -21.25) projected
  line L462 (-178.25, -21.25) -> (-192.25, -21.25) projected
  line L463 (-192.25, -21.25) -> (-192.25, -7.25) projected
  line L464 (-211.25, -7.25) -> (-197.25, -7.25) projected
  line L465 (-197.25, -7.25) -> (-197.25, -21.25) projected
  line L466 (-197.25, -21.25) -> (-211.25, -21.25) projected
  line L467 (-211.25, -21.25) -> (-211.25, -7.25) projected
  line L468 (-173.25, 11.75) -> (-159.25, 11.75) projected
  line L469 (-159.25, 11.75) -> (-159.25, -2.25) projected
  line L470 (-159.25, -2.25) -> (-173.25, -2.25) projected
  line L471 (-173.25, -2.25) -> (-173.25, 11.75) projected
  line L472 (-192.25, 11.75) -> (-178.25, 11.75) projected
  line L473 (-178.25, 11.75) -> (-178.25, -2.25) projected
  line L474 (-178.25, -2.25) -> (-192.25, -2.25) projected
  line L475 (-192.25, -2.25) -> (-192.25, 11.75) projected
  line L476 (-211.25, 11.75) -> (-197.25, 11.75) projected
  line L477 (-197.25, 11.75) -> (-197.25, -2.25) projected
  line L478 (-197.25, -2.25) -> (-211.25, -2.25) projected
  line L479 (-211.25, -2.25) -> (-211.25, 11.75) projected
  line L480 (-173.25, 30.75) -> (-159.25, 30.75) projected
  line L481 (-159.25, 30.75) -> (-159.25, 16.75) projected
  line L482 (-159.25, 16.75) -> (-173.25, 16.75) projected
  line L483 (-173.25, 16.75) -> (-173.25, 30.75) projected
  line L484 (-192.25, 30.75) -> (-178.25, 30.75) projected
  line L485 (-178.25, 30.75) -> (-178.25, 16.75) projected
  line L486 (-178.25, 16.75) -> (-192.25, 16.75) projected
  line L487 (-192.25, 16.75) -> (-192.25, 30.75) projected
  line L488 (-197.25, 30.75) -> (-197.25, 16.75) projected
  line L489 (-197.25, 16.75) -> (-211.25, 16.75) projected
  line L490 (-211.25, 16.75) -> (-211.25, 30.75) projected
  line L491 (-211.25, 30.75) -> (-197.25, 30.75) projected
  line L492 (211.25, 59.25) -> (211.25, 45.25) projected
  line L493 (211.25, 45.25) -> (197.25, 45.25) projected
  line L494 (197.25, 45.25) -> (197.25, 59.25) projected
  line L495 (197.25, 59.25) -> (211.25, 59.25) projected
  line L496 (192.25, 59.25) -> (192.25, 45.25) projected
  line L497 (192.25, 45.25) -> (178.25, 45.25) projected
  line L498 (178.25, 45.25) -> (178.25, 59.25) projected
  line L499 (178.25, 59.25) -> (192.25, 59.25) projected
  line L500 (173.25, 59.25) -> (173.25, 45.25) projected
  line L501 (173.25, 45.25) -> (159.25, 45.25) projected
  line L502 (159.25, 45.25) -> (159.25, 59.25) projected
  line L503 (159.25, 59.25) -> (173.25, 59.25) projected
  line L504 (154.25, 59.25) -> (154.25, 45.25) projected
  line L505 (154.25, 45.25) -> (140.25, 45.25) projected
  line L506 (140.25, 45.25) -> (140.25, 59.25) projected
  line L507 (140.25, 59.25) -> (154.25, 59.25) projected
  line L508 (125.75, 59.25) -> (125.75, 45.25) projected
  line L509 (125.75, 45.25) -> (111.75, 45.25) projected
  line L510 (111.75, 45.25) -> (111.75, 59.25) projected
  line L511 (111.75, 59.25) -> (125.75, 59.25) projected
  line L512 (106.75, 59.25) -> (106.75, 45.25) projected
  line L513 (106.75, 45.25) -> (92.75, 45.25) projected
  line L514 (92.75, 45.25) -> (92.75, 59.25) projected
  line L515 (92.75, 59.25) -> (106.75, 59.25) projected
  line L516 (87.75, 59.25) -> (87.75, 45.25) projected
  line L517 (87.75, 45.25) -> (73.75, 45.25) projected
  line L518 (73.75, 45.25) -> (73.75, 59.25) projected
  line L519 (73.75, 59.25) -> (87.75, 59.25) projected
  line L520 (68.75, 59.25) -> (68.75, 45.25) projected
  line L521 (68.75, 45.25) -> (54.75, 45.25) projected
  line L522 (54.75, 45.25) -> (54.75, 59.25) projected
  line L523 (54.75, 59.25) -> (68.75, 59.25) projected
  line L524 (40.25, 59.25) -> (40.25, 45.25) projected
  line L525 (40.25, 45.25) -> (26.25, 45.25) projected
  line L526 (26.25, 45.25) -> (26.25, 59.25) projected
  line L527 (26.25, 59.25) -> (40.25, 59.25) projected
  line L528 (21.25, 59.25) -> (21.25, 45.25) projected
  line L529 (21.25, 45.25) -> (7.25, 45.25) projected
  line L530 (7.25, 45.25) -> (7.25, 59.25) projected
  line L531 (7.25, 59.25) -> (21.25, 59.25) projected
  line L532 (2.25, 59.25) -> (2.25, 45.25) projected
  line L533 (2.25, 45.25) -> (-11.75, 45.25) projected
  line L534 (-11.75, 45.25) -> (-11.75, 59.25) projected
  line L535 (-11.75, 59.25) -> (2.25, 59.25) projected
  line L536 (-16.75, 59.25) -> (-16.75, 45.25) projected
  line L537 (-16.75, 45.25) -> (-30.75, 45.25) projected
  line L538 (-30.75, 45.25) -> (-30.75, 59.25) projected
  line L539 (-30.75, 59.25) -> (-16.75, 59.25) projected
  line L540 (-54.75, 59.25) -> (-54.75, 45.25) projected
  line L541 (-54.75, 45.25) -> (-68.75, 45.25) projected
  line L542 (-68.75, 45.25) -> (-68.75, 59.25) projected
  line L543 (-68.75, 59.25) -> (-54.75, 59.25) projected
  line L544 (216.125, 61.75) -> (-216.125, 61.75) projected
  arc A0 (-216.125, 61.75) -> (-220.875, 57) centre (-216.125, 57) ccw projected
  line L545 (-220.875, 57) -> (-220.875, -57) projected
  arc A1 (-220.875, -57) -> (-216.125, -61.75) centre (-216.125, -57) ccw projected
  line L546 (-216.125, -61.75) -> (216.125, -61.75) projected
  arc A2 (216.125, -61.75) -> (220.875, -57) centre (216.125, -57) ccw projected
  line L547 (220.875, -57) -> (220.875, 57) projected
  arc A3 (220.875, 57) -> (216.125, 61.75) centre (216.125, 57) ccw projected
  line L548 (223.875, 57) -> (223.875, -57)
  arc A4 (216.125, -64.75) -> (223.875, -57) centre (216.125, -57) ccw
  line L549 (216.125, -64.75) -> (-216.125, -64.75)
  arc A5 (-223.875, -57) -> (-216.125, -64.75) centre (-216.125, -57) ccw
  line L550 (-223.875, -57) -> (-223.875, 57)
  arc A6 (-216.125, 64.75) -> (-223.875, 57) centre (-216.125, 57) ccw
  line L551 (-216.125, 64.75) -> (216.125, 64.75)
  arc A7 (223.875, 57) -> (216.125, 64.75) centre (216.125, 57) ccw
  circle A8 centre (109.25, 13.49) radius 2.35 projected
  circle A9 centre (-175.75, 14.25) radius 2.35 projected
  circle A10 centre (216.125, -57) radius 2.35 projected
  circle A11 centre (133, 57) radius 2.35 projected
  circle A12 centre (216.125, 0) radius 2.35 projected
  circle A13 centre (118.75, -57) radius 2.35 projected
  circle A14 centre (47.5, 57) radius 2.35 projected
  circle A15 centre (-73.625, 57) radius 2.35 projected
  circle A16 centre (23.75, -57) radius 2.35 projected
  circle A17 centre (-66.5, -19) radius 2.35 projected
  circle A18 centre (-216.125, -57) radius 2.35 projected
  circle A19 centre (-216.125, 57) radius 2.35 projected
  circle A20 centre (-216.125, 0) radius 2.35 projected
  circle A21 centre (-133.753, -57) radius 2.35 projected
  circle A22 centre (-47.5, -57) radius 2.35 projected
  circle A23 centre (-45.125, 11.875) radius 2.35 projected
  circle A24 centre (33.25, 13.49) radius 2.35 projected
  circle A25 centre (76, -23.086) radius 2.35 projected
  circle A26 centre (166.25, -40.375) radius 2.35 projected
  circle A27 centre (187.625, 11.875) radius 2.35 projected
  circle A28 centre (216.125, 57) radius 2.35 projected
  circle A29 centre (-114, 14.25) radius 2.35 projected
  circle A30 centre (-175.75, -23.75) radius 2.35 projected
  circle A31 centre (-9.5, -24.356) radius 2.35 projected
  point P0 (9.3413, 36.1541)
  dimension "d4" = 3
extrude "Extrusion3" add sketch "Sketch3" against normal up to surface contours L548 A4 L549 A5 L550 A6 L551 A7 surface through (-45.4451, 14.3376, -5.5632) normal (0, 0.1062, 0.9943)
sketch "Sketch7" plane through (-225.4663, 25.5959, -6.7657) normal (0, -1, 0) x (1, 0, 0)
  line L0 (180.5952, 5.7542) -> (180.5952, 1.7766) projected
  arc A0 (180.5952, 5.7542) -> (180.0212, 6.3283) centre (180.0212, 5.7542) ccw projected
  arc A1 (180.0212, 6.3283) -> (180.5952, 6.9023) centre (180.0212, 6.9023) ccw projected
  line L1 (180.5952, 13.8314) -> (180.5952, 6.9023) projected
  line L2 (180.2625, 13.8314) -> (180.5952, 13.8314) projected
  line L3 (180.2625, 13.8314) -> (180.2625, 14.2073) projected
  line L4 (179.5005, 14.2073) -> (180.2625, 14.2073) projected
  line L5 (179.5005, 13.8314) -> (179.5005, 14.2073) projected
  line L6 (167.6895, 13.8314) -> (179.5005, 13.8314) projected
  line L7 (167.6895, 13.8314) -> (167.6895, 14.2073) projected
  line L8 (166.9275, 14.2073) -> (167.6895, 14.2073) projected
  line L9 (166.9275, 13.8314) -> (166.9275, 14.2073) projected
  line L10 (166.5948, 13.8314) -> (166.9275, 13.8314) projected
  line L11 (166.5948, 13.8314) -> (166.5948, 6.9023) projected
  arc A2 (166.5948, 6.9023) -> (167.1688, 6.3283) centre (167.1688, 6.9023) ccw projected
  arc A3 (167.1688, 6.3283) -> (166.5948, 5.7542) centre (167.1688, 5.7542) ccw projected
  line L12 (166.5948, 5.7542) -> (166.5948, 1.7766) projected
  arc A4 (166.5948, 1.7766) -> (167.1688, 1.2025) centre (167.1688, 1.7766) ccw projected
  line L13 (167.1688, 1.2025) -> (180.0212, 1.2025) projected
  arc A5 (180.0212, 1.2025) -> (180.5952, 1.7766) centre (180.0212, 1.7766) ccw projected
  line L14 (166.5948, 6.9023) -> (166.5948, 5.7542)
  line L15 (166.5948, 13.8314) -> (166.5948, 14.2073)
  line L16 (166.9275, 14.2073) -> (166.5948, 14.2073)
  line L17 (167.6895, 14.2073) -> (179.5005, 14.2073)
  line L18 (180.2625, 14.2073) -> (180.5952, 14.2073)
  line L19 (180.5952, 14.2073) -> (180.5952, 13.8314)
  line L20 (180.5952, 6.9023) -> (180.5952, 5.7542)
  line L21 (180.0212, 1.2025) -> (180.5952, 1.2025)
  line L22 (180.5952, 1.7766) -> (180.5952, 1.2025)
  line L23 (166.5948, 1.7766) -> (166.5948, 1.2025)
  line L24 (167.1688, 1.2025) -> (166.5948, 1.2025)
  point P0 (225.4663, 6.7657)
extrude "Extrusion4" cut sketch "Sketch7" against normal blind 22
sketch "Sketch8" plane through (-45.4451, 14.3376, -5.5632) normal (0, 0.1062, 0.9943) x (-1, 0, 0)
  ellipse E0 centre (180.0212, -6.5454) end of major axis (180.0212, -11.3224) minor radius 4.75 (180.0212, -11.3224) -> (184.7712, -6.5454) ccw projected
  line L0 (184.7712, -6.5454) -> (184.7712, 108.1031) projected
  ellipse E1 centre (180.0212, 108.1031) end of major axis (180.0212, 103.3261) minor radius 4.75 (184.7712, 108.1031) -> (180.0212, 112.8801) ccw projected
  line L1 (180.0212, 112.8801) -> (-252.2288, 112.8801) projected
  ellipse E2 centre (-252.2288, 108.1031) end of major axis (-252.2288, 112.8801) minor radius 4.75 (-252.2288, 112.8801) -> (-256.9788, 108.1031) ccw projected
  line L2 (-256.9788, 108.1031) -> (-256.9788, -6.5454) projected
  ellipse E3 centre (-252.2288, -6.5454) end of major axis (-252.2288, -1.7683) minor radius 4.75 (-256.9788, -6.5454) -> (-252.2288, -11.3224) ccw projected
  line L3 (-252.2288, -11.3224) -> (180.0212, -11.3224) projected
  ellipse E4 centre (-252.2288, -6.5454) end of major axis (-252.2288, -14.3394) minor radius 7.75 (-259.9788, -6.5454) -> (-252.2288, -14.3394) ccw projected
  line L4 (-259.9788, -6.5454) -> (-259.9788, 108.1031) projected
  ellipse E5 centre (-252.2288, 108.1031) end of major axis (-252.2288, 100.309) minor radius 7.75 (-252.2288, 115.8972) -> (-259.9788, 108.1031) ccw projected
  line L5 (-252.2288, 115.8972) -> (180.0212, 115.8972) projected
  ellipse E6 centre (180.0212, 108.1031) end of major axis (180.0212, 115.8972) minor radius 7.75 (187.7712, 108.1031) -> (180.0212, 115.8972) ccw projected
  line L6 (187.7712, 108.1031) -> (187.7712, -6.5454) projected
  ellipse E7 centre (180.0212, -6.5454) end of major axis (180.0212, 1.2487) minor radius 7.75 (180.0212, -14.3394) -> (187.7712, -6.5454) ccw projected
  line L7 (180.0212, -14.3394) -> (-252.2288, -14.3394) projected
  point P0 (-45.4451, 14.8473)
extrude "Extrusion5" add sketch "Sketch8" against normal blind 6 contours L3 E3 L2 E2 L1 E1 L0 E0 | L4 E5 L5 E6 L6 E7 L7 E4
properties part number "FullEnclosurePrototype"
